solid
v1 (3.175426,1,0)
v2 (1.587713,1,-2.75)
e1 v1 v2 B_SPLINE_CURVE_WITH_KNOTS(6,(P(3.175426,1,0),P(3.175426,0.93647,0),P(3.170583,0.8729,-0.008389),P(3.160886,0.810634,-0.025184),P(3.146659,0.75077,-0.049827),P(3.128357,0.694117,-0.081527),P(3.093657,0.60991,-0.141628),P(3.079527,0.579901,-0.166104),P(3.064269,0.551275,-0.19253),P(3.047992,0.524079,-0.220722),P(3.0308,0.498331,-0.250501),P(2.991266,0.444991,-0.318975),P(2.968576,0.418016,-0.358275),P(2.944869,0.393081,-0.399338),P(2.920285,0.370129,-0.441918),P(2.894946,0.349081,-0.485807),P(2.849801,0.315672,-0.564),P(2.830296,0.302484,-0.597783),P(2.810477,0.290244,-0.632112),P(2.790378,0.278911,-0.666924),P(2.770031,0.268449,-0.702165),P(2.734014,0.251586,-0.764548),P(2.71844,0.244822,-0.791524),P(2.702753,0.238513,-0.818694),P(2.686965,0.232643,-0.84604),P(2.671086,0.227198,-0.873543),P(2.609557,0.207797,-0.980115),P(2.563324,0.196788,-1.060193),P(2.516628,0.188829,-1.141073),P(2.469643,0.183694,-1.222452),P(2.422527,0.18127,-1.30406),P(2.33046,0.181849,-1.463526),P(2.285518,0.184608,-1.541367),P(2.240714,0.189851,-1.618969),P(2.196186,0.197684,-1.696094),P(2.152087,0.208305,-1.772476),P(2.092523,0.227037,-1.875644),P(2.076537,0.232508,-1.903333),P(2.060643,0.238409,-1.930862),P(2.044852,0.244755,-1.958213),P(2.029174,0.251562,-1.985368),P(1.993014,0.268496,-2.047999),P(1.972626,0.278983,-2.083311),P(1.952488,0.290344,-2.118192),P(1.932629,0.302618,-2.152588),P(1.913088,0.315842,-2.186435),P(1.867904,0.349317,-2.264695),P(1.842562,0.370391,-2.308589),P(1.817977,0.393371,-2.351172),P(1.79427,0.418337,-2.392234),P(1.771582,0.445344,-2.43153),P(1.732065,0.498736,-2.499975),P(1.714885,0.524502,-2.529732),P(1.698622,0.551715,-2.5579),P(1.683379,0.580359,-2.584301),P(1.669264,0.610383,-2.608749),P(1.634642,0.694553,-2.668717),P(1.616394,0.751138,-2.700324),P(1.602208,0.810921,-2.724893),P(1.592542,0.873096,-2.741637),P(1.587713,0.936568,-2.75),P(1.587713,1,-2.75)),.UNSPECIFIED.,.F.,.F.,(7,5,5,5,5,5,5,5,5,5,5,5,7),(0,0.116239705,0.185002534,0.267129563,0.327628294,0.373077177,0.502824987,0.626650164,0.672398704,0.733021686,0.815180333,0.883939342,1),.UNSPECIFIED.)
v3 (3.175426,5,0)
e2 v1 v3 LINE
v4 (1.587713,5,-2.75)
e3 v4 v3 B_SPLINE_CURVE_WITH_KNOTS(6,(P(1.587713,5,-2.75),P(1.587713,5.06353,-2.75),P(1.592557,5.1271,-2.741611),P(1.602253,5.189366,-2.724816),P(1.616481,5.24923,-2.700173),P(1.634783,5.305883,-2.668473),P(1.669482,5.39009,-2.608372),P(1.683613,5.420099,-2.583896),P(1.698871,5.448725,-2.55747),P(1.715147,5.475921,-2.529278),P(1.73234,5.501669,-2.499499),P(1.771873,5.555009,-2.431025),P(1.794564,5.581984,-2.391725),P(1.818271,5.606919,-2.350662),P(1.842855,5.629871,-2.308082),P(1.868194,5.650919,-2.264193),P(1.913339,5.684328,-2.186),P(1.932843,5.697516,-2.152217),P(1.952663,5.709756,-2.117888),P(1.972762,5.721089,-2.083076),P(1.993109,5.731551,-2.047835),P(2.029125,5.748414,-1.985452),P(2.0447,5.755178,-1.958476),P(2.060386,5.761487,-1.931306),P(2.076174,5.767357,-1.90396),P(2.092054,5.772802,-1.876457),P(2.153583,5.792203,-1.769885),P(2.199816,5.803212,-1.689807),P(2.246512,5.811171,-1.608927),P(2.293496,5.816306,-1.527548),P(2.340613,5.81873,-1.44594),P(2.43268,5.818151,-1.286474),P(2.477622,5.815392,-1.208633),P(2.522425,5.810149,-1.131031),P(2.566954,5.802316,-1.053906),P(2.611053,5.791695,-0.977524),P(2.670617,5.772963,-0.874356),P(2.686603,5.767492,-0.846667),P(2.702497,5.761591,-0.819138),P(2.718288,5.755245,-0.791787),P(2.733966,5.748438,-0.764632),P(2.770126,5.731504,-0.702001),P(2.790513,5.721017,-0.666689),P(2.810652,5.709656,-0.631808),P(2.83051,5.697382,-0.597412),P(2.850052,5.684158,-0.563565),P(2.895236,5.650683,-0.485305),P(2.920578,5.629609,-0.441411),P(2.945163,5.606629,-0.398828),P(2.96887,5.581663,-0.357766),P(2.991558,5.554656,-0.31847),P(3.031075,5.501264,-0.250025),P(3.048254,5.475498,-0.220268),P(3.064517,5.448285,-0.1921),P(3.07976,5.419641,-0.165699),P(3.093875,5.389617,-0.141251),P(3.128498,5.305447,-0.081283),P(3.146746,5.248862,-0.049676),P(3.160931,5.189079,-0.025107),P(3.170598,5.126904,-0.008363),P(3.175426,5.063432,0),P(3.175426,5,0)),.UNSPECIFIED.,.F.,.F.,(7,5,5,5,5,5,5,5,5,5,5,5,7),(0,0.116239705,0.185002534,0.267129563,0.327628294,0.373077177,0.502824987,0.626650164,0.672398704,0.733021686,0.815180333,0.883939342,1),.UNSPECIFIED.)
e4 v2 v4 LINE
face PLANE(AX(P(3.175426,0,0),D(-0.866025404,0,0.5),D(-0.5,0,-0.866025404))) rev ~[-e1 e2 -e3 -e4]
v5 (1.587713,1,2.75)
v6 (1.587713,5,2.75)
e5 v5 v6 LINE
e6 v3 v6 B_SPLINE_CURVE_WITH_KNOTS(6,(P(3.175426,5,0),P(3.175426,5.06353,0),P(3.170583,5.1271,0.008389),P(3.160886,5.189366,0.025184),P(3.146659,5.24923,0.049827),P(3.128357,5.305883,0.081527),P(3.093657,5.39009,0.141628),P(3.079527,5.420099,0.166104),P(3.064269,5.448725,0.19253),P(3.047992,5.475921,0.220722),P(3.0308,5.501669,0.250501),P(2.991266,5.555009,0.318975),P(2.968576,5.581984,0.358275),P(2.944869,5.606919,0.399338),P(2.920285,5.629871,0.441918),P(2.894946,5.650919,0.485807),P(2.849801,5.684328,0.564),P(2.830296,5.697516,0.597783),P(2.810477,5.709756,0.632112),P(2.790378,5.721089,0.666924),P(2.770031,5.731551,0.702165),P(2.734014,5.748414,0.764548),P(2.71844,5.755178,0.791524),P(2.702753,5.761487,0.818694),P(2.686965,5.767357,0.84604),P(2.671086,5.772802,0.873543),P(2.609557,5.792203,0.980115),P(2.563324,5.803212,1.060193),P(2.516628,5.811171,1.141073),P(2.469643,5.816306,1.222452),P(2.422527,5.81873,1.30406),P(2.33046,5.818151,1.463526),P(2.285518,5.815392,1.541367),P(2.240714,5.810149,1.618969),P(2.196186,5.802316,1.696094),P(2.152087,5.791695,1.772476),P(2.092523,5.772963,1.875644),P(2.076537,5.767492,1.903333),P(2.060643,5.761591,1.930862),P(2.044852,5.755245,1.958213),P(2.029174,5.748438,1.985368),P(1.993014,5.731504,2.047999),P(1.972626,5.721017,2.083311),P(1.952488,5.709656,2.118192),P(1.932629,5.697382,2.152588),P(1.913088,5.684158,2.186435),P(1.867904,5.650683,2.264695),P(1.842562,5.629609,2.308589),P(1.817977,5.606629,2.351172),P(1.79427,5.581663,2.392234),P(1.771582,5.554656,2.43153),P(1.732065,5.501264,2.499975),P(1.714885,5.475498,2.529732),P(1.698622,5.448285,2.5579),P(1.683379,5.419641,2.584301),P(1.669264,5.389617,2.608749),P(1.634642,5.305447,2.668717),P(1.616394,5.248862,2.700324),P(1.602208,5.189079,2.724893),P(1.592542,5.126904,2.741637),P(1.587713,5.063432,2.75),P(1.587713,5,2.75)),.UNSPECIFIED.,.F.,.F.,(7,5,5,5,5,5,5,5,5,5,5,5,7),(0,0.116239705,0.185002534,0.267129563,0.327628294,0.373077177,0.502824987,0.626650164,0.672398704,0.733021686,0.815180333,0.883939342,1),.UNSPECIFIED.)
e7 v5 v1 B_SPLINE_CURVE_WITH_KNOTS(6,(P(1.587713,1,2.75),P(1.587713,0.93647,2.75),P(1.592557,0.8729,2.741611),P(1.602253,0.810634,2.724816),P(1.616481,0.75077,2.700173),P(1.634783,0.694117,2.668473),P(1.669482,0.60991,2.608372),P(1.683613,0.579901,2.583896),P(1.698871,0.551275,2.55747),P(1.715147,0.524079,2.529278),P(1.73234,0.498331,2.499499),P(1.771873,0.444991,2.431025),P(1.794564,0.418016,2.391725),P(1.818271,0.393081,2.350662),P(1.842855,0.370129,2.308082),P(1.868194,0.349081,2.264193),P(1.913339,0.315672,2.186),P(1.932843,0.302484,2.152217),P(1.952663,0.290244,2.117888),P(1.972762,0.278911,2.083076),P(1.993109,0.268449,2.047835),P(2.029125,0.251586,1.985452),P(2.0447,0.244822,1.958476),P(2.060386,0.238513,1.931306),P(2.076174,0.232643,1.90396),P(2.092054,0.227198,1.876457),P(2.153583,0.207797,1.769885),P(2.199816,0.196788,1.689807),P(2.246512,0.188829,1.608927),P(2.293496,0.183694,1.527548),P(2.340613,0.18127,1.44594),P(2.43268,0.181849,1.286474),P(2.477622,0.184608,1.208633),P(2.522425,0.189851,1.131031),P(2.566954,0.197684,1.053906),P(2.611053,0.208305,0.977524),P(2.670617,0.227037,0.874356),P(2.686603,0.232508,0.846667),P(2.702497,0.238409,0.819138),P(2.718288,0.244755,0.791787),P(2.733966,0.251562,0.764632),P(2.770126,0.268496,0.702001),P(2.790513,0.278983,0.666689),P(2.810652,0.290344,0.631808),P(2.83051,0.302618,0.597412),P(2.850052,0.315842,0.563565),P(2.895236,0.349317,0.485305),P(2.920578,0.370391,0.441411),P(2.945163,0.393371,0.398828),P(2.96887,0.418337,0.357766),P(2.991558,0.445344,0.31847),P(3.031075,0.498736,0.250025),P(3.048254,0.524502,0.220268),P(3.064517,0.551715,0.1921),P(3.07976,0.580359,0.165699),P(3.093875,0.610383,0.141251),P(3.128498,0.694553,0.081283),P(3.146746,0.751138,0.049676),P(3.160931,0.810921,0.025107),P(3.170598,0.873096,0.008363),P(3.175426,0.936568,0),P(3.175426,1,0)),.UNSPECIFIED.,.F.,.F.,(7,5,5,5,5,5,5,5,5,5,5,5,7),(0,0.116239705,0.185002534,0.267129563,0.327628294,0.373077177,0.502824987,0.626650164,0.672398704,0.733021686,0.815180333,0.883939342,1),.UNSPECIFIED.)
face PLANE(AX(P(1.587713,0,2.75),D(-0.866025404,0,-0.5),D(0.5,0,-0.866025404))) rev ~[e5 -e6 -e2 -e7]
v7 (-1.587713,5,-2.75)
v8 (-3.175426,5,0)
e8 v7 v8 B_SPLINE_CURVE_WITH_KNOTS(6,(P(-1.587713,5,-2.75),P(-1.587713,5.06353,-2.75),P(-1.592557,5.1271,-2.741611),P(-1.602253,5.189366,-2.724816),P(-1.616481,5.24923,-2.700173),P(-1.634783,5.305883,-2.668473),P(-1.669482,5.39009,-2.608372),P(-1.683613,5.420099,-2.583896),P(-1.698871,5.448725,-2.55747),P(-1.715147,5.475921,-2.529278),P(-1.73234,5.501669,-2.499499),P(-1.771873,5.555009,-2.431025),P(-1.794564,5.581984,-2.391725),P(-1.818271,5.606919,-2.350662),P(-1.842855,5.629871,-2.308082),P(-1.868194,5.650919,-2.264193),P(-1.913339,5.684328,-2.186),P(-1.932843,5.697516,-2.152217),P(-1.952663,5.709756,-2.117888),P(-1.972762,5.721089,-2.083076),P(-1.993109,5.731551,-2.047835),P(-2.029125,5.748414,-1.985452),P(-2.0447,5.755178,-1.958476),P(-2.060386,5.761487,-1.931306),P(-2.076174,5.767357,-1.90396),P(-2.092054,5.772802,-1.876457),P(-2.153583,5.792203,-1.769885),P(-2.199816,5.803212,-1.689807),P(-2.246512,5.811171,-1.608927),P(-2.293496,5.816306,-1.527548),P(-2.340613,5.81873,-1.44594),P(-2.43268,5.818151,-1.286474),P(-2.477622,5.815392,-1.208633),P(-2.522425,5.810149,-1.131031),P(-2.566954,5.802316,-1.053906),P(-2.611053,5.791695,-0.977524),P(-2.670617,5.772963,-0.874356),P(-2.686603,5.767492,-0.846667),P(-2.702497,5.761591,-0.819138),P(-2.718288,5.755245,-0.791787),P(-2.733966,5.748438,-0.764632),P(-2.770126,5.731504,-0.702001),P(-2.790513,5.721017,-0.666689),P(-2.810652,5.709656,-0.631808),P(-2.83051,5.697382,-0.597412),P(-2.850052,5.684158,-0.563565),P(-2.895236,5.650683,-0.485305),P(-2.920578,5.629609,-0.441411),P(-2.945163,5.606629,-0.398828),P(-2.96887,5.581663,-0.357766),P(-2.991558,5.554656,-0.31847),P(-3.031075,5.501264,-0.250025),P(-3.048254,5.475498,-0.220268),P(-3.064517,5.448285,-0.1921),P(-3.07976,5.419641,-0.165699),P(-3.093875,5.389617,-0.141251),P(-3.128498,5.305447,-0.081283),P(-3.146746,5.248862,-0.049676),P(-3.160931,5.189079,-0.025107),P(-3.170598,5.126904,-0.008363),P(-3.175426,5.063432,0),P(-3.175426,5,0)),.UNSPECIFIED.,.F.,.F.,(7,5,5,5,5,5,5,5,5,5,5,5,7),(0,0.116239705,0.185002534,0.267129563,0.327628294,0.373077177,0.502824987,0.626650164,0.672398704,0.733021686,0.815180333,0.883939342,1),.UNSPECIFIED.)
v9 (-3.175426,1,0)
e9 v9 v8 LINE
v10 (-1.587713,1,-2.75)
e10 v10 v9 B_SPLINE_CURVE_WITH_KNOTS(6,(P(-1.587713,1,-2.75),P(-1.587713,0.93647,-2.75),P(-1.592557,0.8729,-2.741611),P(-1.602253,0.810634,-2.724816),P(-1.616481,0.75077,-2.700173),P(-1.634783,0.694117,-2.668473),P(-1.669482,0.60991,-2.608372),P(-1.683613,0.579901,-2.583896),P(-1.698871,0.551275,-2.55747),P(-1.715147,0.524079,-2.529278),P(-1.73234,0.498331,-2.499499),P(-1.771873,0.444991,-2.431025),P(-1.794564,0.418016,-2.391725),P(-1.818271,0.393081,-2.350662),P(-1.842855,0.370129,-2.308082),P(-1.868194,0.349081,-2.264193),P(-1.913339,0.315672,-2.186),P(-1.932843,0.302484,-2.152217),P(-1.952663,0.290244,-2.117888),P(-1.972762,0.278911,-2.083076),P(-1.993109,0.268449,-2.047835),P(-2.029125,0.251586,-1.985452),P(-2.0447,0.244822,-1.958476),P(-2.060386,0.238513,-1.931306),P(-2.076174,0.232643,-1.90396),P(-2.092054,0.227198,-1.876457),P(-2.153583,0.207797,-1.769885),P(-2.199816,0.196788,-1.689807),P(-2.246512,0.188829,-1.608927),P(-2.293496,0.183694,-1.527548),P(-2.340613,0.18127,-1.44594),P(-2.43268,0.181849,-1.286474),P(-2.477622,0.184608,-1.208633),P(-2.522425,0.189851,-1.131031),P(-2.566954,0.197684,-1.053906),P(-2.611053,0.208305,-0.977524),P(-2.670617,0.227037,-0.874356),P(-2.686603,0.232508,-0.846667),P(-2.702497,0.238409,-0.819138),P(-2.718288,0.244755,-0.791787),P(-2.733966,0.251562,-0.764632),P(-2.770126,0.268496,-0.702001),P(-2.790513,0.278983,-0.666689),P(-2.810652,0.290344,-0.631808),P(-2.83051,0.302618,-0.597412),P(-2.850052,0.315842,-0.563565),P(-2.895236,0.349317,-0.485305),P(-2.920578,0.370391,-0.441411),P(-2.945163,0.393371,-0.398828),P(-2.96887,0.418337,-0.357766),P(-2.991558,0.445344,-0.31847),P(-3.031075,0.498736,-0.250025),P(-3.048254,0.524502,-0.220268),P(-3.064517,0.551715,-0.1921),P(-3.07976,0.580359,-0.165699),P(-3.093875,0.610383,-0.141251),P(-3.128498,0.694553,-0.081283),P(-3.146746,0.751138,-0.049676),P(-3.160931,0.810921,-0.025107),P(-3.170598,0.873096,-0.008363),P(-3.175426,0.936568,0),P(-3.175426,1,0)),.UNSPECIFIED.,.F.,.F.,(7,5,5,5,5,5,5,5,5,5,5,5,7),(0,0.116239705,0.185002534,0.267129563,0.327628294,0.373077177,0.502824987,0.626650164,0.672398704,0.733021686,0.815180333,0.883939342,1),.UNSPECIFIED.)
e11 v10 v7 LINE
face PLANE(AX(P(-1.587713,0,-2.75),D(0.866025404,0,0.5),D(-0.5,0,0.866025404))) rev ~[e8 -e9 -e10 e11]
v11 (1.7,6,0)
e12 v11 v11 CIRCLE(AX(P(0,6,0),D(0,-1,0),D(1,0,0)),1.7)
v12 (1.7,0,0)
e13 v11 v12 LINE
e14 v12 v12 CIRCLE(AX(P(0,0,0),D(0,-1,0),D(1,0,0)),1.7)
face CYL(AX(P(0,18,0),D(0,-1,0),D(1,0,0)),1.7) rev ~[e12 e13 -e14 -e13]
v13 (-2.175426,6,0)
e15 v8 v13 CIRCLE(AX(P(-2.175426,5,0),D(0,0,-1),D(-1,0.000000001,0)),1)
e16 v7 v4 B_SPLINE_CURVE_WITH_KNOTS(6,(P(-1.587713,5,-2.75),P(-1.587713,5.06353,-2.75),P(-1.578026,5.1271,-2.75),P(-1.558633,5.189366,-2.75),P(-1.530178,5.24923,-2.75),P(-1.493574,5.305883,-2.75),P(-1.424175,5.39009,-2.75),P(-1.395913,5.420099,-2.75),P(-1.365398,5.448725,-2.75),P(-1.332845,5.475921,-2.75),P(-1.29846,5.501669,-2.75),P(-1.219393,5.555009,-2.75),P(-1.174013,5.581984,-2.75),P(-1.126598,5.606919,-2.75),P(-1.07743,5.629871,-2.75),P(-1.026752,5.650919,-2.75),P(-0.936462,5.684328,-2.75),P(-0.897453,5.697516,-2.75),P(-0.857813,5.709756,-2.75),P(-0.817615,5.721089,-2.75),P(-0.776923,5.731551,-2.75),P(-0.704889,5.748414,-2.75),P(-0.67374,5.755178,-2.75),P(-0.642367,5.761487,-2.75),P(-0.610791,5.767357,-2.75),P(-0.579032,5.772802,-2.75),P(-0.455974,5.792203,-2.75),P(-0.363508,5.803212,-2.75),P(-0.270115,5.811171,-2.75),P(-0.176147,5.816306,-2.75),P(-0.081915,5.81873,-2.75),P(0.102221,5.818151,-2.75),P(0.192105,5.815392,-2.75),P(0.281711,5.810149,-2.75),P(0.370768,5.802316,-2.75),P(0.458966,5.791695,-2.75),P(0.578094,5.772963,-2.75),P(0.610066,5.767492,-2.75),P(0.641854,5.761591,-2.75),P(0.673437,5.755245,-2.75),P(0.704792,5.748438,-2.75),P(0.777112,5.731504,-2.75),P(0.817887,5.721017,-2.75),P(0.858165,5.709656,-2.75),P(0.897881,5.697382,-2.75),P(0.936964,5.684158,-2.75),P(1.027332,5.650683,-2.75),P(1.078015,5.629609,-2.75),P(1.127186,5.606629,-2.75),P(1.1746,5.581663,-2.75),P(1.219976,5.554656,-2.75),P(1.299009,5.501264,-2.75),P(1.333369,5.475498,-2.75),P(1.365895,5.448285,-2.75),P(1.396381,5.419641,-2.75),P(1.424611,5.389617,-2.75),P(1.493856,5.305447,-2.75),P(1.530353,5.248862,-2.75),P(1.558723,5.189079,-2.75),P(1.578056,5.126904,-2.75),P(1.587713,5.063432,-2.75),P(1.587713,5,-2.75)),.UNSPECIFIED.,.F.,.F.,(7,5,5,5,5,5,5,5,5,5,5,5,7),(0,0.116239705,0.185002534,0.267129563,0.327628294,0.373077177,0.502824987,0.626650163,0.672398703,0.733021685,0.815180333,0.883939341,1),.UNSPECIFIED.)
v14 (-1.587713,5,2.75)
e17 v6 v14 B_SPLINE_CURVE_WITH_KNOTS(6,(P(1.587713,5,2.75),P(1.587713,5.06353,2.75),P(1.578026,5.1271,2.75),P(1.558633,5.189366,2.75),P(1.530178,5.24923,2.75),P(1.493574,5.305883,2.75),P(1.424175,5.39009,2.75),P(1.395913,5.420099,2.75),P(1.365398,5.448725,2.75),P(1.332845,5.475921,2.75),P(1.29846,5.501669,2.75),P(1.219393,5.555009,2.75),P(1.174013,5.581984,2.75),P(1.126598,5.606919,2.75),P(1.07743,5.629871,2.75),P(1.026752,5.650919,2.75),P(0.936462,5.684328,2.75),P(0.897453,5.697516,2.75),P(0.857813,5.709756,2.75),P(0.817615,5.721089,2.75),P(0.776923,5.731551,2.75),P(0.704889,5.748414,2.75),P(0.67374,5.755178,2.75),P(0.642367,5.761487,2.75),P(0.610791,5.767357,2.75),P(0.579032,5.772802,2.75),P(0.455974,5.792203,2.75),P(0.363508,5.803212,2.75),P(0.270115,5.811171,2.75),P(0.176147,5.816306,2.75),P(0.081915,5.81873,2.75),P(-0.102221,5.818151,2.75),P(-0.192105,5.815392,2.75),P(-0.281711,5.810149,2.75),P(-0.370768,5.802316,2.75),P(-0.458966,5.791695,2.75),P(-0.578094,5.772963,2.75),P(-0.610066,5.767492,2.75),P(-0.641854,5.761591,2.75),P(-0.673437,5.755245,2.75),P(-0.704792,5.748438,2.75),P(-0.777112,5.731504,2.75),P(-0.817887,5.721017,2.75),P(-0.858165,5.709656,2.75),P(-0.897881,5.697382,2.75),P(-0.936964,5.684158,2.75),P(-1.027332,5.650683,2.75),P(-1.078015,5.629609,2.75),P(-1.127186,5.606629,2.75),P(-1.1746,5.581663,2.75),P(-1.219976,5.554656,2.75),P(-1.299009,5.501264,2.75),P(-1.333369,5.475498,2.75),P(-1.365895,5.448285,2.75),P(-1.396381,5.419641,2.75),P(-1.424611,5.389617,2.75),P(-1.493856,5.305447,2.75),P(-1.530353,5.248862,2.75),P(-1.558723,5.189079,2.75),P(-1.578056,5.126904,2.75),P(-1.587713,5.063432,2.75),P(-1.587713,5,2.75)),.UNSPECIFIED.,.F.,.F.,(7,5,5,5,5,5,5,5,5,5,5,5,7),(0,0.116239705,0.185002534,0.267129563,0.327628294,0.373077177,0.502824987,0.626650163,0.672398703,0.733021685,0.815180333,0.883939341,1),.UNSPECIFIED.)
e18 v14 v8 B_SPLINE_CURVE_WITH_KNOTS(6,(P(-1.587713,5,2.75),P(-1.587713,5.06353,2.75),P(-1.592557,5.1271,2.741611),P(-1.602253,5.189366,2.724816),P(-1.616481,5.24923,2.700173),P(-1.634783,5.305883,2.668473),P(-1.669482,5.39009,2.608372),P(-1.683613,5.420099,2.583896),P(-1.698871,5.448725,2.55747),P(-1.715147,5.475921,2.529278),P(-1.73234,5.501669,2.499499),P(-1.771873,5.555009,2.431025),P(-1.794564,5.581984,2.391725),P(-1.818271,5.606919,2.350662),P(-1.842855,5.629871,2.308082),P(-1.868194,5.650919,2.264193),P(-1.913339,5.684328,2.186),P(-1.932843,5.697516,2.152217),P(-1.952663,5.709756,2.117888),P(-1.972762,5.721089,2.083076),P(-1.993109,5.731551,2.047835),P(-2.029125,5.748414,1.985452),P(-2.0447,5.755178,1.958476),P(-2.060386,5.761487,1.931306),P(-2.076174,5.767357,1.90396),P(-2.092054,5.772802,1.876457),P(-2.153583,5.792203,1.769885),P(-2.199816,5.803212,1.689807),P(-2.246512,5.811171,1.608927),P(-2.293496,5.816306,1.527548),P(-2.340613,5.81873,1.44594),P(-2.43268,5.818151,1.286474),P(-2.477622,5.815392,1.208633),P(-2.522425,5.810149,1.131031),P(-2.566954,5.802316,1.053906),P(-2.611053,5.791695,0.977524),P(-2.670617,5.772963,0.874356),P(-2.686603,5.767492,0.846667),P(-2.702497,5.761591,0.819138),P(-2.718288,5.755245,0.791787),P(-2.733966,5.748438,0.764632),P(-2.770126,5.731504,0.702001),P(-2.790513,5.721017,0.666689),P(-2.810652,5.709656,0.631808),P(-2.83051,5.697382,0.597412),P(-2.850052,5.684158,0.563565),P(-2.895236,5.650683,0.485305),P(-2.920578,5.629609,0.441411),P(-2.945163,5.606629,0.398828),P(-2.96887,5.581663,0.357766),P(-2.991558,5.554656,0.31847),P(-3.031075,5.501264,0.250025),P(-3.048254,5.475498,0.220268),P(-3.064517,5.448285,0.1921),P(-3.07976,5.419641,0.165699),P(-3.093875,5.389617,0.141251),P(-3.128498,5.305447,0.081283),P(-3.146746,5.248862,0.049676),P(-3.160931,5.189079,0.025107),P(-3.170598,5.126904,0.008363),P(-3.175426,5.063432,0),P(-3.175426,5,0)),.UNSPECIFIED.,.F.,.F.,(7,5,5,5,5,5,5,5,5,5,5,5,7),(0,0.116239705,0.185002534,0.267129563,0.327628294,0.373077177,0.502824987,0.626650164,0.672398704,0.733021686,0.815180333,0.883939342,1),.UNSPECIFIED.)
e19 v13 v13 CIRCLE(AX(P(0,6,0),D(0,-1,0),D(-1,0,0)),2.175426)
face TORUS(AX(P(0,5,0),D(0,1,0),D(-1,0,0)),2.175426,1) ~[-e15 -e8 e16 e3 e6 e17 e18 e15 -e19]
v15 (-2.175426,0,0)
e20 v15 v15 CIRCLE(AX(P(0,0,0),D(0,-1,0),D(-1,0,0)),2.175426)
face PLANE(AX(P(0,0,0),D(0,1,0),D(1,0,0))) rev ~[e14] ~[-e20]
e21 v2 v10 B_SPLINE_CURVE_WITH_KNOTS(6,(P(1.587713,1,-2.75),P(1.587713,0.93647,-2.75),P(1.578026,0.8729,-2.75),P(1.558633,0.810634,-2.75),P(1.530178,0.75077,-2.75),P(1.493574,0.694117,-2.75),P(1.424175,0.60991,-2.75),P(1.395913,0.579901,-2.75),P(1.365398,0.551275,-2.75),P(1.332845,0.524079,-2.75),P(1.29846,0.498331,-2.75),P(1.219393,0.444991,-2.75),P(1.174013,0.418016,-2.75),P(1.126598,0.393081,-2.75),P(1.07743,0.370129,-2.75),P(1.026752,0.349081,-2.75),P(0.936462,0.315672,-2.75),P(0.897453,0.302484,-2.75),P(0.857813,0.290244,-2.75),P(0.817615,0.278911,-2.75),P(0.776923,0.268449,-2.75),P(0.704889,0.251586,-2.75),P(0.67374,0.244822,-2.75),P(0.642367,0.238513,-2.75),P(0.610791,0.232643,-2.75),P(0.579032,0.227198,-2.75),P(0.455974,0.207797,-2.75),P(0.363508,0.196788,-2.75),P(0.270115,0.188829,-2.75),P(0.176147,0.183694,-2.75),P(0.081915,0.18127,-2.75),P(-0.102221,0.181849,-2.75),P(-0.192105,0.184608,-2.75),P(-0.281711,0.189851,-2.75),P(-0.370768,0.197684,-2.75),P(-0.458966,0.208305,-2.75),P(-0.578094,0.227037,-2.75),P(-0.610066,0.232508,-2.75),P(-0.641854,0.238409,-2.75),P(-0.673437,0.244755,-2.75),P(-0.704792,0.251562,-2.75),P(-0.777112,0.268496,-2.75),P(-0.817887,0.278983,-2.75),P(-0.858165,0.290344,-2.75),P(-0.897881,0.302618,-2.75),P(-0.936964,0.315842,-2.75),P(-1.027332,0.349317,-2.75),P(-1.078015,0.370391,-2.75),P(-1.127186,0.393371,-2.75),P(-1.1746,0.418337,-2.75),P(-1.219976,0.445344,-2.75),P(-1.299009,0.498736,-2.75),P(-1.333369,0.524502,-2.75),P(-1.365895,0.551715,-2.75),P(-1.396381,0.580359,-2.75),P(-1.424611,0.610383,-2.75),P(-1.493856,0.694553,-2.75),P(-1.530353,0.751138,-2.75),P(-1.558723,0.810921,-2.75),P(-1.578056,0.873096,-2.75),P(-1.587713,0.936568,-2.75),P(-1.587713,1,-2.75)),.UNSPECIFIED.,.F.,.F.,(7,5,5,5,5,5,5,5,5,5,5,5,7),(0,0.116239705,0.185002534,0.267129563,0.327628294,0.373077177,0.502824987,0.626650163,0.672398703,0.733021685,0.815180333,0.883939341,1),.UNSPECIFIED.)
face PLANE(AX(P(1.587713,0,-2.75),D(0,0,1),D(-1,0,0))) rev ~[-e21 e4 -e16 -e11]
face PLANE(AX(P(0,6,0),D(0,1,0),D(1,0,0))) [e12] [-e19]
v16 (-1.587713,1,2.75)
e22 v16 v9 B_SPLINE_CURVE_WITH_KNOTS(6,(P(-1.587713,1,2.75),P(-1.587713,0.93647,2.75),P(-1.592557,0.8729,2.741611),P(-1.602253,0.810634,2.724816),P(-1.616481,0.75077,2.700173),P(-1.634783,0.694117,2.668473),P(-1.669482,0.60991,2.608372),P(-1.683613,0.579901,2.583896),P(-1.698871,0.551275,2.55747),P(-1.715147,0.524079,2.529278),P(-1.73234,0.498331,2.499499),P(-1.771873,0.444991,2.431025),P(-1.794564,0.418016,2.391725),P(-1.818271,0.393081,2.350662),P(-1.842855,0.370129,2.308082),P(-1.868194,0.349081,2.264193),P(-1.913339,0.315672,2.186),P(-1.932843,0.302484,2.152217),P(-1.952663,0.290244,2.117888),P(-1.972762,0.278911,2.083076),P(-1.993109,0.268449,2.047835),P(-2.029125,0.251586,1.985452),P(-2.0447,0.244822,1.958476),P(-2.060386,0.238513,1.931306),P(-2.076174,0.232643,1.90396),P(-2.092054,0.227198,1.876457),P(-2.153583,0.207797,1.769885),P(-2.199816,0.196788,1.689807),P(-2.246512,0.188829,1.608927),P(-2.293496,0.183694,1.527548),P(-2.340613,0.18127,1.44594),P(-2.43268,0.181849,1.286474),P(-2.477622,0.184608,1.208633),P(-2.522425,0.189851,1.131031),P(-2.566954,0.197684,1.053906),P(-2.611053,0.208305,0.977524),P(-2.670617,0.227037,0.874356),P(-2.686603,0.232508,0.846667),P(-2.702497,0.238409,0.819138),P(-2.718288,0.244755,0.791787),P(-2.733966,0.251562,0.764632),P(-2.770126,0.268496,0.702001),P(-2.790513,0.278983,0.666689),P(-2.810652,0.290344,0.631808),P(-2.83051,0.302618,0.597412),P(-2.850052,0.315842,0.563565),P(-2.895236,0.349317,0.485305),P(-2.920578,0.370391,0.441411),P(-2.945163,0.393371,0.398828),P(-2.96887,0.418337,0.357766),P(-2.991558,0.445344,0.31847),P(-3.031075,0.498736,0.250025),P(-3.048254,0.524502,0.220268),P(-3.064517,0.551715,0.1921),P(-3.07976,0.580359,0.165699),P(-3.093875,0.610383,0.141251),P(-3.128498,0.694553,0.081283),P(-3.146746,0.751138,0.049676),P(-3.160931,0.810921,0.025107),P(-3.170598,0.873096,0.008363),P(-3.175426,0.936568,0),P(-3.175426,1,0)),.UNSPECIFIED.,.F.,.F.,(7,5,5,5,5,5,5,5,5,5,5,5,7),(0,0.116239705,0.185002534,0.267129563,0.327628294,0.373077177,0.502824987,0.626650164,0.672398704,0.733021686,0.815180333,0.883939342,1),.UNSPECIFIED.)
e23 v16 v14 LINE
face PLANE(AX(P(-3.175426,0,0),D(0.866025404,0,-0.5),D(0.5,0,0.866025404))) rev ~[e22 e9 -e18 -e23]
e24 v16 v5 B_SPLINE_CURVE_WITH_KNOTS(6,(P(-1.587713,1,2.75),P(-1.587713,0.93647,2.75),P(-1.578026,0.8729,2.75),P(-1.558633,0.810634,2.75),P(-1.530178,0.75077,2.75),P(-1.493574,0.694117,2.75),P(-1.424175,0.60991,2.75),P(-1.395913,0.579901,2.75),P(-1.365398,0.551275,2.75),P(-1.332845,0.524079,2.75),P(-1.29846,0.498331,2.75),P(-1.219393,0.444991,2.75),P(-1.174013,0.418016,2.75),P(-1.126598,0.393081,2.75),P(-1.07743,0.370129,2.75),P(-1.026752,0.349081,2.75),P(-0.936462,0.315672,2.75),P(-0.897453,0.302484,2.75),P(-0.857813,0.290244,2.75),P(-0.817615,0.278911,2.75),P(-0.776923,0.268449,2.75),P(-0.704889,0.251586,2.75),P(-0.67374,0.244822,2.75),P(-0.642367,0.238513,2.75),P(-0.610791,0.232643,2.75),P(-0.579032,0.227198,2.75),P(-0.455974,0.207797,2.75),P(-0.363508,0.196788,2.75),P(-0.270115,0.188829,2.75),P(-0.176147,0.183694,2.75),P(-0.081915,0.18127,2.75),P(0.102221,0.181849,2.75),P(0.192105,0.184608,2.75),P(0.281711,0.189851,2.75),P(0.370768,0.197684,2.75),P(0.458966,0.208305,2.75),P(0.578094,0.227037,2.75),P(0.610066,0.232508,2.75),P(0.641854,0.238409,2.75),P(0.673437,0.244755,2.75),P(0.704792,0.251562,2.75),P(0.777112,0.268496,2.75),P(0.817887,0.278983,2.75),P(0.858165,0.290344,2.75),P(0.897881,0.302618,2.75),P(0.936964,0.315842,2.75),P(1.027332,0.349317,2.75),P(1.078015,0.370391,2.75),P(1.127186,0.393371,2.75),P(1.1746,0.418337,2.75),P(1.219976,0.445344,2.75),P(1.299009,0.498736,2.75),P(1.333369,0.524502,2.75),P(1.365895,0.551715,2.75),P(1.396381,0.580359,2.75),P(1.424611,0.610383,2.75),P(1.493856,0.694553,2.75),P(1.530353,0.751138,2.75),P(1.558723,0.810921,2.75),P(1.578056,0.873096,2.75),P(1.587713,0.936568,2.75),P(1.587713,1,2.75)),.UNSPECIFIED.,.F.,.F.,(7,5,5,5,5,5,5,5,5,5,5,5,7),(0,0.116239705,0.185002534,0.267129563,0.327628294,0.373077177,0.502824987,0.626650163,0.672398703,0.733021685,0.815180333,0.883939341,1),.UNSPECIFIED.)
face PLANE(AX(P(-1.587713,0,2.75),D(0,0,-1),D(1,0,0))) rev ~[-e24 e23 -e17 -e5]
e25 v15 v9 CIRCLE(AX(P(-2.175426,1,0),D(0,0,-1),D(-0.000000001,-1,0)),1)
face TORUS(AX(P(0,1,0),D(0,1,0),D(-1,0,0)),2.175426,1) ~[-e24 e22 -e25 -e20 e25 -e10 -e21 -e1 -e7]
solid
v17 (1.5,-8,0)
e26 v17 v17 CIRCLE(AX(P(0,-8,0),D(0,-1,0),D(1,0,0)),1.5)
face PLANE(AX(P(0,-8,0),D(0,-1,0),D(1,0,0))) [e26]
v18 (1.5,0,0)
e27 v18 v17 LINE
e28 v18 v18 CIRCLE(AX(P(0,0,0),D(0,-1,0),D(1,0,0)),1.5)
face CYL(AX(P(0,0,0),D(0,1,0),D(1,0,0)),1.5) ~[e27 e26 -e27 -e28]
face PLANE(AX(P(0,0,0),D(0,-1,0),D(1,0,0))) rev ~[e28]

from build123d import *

# Parameters (mm, degrees)
BOSS_EXTRUDE1_DEPTH      = 6
M3_CLEARANCE_HOLE1_D     = 3.4
M3_CLEARANCE_HOLE1_DEPTH = 12
M3_CLEARANCE_HOLE1_TIP   = 1.021463052
SKETCH5_R                = 1.5
BOSS_EXTRUDE2_DEPTH      = 8


with BuildPart() as part:
    # Sketch1 → Boss-Extrude1 (new body)
    with BuildSketch(Plane(origin=(0, 0, 0), x_dir=(1, 0, 0), z_dir=(0, 1, 0))):
        Polygon((3.175426481, 0), (1.58771324, 2.75), (-1.58771324, 2.75), (-3.175426481, 0), (-1.58771324, -2.75), (1.58771324, -2.75), align=None)
    extrude(amount=BOSS_EXTRUDE1_DEPTH)

    # M3 Clearance Hole1
    with Locations(Plane(origin=(0, 6, 0), x_dir=(-1, 0, 0), z_dir=(0, 1, 0))):
        with Locations((0, 0)):
            Hole(M3_CLEARANCE_HOLE1_D / 2, depth=M3_CLEARANCE_HOLE1_DEPTH)
            with Locations((0, 0, -(M3_CLEARANCE_HOLE1_DEPTH + M3_CLEARANCE_HOLE1_TIP / 2))):  # 118° drill point
                Cone(0, M3_CLEARANCE_HOLE1_D / 2, M3_CLEARANCE_HOLE1_TIP, mode=Mode.SUBTRACT)

    # Sketch4 → Cut-Revolve1 (revolve, cut)
    with BuildSketch(Plane.XY):
        with BuildLine():
            Line((-2.175426481, 6), (-3.175426481, 6))
            Line((-3.175426481, 6), (-3.175426481, 5))
            ThreePointArc((-3.175426481, 5), (-2.882533262, 5.707106781), (-2.175426481, 6))
        make_face()
        with BuildLine():
            Line((-3.175426481, 1), (-3.175426481, 0))
            Line((-3.175426481, 0), (-2.175426481, 0))
            ThreePointArc((-2.175426481, 0), (-2.882533262, 0.292893219), (-3.175426481, 1))
        make_face()
    revolve(axis=Axis((0, 6, 0), (0, -1, 0)), mode=Mode.SUBTRACT)


with BuildPart() as body_2:
    # Sketch5 → Boss-Extrude2 (new body)
    with BuildSketch(Plane.XZ):
        Circle(SKETCH5_R)
    extrude(amount=BOSS_EXTRUDE2_DEPTH)


solid = Compound([part.part, body_2.part])
